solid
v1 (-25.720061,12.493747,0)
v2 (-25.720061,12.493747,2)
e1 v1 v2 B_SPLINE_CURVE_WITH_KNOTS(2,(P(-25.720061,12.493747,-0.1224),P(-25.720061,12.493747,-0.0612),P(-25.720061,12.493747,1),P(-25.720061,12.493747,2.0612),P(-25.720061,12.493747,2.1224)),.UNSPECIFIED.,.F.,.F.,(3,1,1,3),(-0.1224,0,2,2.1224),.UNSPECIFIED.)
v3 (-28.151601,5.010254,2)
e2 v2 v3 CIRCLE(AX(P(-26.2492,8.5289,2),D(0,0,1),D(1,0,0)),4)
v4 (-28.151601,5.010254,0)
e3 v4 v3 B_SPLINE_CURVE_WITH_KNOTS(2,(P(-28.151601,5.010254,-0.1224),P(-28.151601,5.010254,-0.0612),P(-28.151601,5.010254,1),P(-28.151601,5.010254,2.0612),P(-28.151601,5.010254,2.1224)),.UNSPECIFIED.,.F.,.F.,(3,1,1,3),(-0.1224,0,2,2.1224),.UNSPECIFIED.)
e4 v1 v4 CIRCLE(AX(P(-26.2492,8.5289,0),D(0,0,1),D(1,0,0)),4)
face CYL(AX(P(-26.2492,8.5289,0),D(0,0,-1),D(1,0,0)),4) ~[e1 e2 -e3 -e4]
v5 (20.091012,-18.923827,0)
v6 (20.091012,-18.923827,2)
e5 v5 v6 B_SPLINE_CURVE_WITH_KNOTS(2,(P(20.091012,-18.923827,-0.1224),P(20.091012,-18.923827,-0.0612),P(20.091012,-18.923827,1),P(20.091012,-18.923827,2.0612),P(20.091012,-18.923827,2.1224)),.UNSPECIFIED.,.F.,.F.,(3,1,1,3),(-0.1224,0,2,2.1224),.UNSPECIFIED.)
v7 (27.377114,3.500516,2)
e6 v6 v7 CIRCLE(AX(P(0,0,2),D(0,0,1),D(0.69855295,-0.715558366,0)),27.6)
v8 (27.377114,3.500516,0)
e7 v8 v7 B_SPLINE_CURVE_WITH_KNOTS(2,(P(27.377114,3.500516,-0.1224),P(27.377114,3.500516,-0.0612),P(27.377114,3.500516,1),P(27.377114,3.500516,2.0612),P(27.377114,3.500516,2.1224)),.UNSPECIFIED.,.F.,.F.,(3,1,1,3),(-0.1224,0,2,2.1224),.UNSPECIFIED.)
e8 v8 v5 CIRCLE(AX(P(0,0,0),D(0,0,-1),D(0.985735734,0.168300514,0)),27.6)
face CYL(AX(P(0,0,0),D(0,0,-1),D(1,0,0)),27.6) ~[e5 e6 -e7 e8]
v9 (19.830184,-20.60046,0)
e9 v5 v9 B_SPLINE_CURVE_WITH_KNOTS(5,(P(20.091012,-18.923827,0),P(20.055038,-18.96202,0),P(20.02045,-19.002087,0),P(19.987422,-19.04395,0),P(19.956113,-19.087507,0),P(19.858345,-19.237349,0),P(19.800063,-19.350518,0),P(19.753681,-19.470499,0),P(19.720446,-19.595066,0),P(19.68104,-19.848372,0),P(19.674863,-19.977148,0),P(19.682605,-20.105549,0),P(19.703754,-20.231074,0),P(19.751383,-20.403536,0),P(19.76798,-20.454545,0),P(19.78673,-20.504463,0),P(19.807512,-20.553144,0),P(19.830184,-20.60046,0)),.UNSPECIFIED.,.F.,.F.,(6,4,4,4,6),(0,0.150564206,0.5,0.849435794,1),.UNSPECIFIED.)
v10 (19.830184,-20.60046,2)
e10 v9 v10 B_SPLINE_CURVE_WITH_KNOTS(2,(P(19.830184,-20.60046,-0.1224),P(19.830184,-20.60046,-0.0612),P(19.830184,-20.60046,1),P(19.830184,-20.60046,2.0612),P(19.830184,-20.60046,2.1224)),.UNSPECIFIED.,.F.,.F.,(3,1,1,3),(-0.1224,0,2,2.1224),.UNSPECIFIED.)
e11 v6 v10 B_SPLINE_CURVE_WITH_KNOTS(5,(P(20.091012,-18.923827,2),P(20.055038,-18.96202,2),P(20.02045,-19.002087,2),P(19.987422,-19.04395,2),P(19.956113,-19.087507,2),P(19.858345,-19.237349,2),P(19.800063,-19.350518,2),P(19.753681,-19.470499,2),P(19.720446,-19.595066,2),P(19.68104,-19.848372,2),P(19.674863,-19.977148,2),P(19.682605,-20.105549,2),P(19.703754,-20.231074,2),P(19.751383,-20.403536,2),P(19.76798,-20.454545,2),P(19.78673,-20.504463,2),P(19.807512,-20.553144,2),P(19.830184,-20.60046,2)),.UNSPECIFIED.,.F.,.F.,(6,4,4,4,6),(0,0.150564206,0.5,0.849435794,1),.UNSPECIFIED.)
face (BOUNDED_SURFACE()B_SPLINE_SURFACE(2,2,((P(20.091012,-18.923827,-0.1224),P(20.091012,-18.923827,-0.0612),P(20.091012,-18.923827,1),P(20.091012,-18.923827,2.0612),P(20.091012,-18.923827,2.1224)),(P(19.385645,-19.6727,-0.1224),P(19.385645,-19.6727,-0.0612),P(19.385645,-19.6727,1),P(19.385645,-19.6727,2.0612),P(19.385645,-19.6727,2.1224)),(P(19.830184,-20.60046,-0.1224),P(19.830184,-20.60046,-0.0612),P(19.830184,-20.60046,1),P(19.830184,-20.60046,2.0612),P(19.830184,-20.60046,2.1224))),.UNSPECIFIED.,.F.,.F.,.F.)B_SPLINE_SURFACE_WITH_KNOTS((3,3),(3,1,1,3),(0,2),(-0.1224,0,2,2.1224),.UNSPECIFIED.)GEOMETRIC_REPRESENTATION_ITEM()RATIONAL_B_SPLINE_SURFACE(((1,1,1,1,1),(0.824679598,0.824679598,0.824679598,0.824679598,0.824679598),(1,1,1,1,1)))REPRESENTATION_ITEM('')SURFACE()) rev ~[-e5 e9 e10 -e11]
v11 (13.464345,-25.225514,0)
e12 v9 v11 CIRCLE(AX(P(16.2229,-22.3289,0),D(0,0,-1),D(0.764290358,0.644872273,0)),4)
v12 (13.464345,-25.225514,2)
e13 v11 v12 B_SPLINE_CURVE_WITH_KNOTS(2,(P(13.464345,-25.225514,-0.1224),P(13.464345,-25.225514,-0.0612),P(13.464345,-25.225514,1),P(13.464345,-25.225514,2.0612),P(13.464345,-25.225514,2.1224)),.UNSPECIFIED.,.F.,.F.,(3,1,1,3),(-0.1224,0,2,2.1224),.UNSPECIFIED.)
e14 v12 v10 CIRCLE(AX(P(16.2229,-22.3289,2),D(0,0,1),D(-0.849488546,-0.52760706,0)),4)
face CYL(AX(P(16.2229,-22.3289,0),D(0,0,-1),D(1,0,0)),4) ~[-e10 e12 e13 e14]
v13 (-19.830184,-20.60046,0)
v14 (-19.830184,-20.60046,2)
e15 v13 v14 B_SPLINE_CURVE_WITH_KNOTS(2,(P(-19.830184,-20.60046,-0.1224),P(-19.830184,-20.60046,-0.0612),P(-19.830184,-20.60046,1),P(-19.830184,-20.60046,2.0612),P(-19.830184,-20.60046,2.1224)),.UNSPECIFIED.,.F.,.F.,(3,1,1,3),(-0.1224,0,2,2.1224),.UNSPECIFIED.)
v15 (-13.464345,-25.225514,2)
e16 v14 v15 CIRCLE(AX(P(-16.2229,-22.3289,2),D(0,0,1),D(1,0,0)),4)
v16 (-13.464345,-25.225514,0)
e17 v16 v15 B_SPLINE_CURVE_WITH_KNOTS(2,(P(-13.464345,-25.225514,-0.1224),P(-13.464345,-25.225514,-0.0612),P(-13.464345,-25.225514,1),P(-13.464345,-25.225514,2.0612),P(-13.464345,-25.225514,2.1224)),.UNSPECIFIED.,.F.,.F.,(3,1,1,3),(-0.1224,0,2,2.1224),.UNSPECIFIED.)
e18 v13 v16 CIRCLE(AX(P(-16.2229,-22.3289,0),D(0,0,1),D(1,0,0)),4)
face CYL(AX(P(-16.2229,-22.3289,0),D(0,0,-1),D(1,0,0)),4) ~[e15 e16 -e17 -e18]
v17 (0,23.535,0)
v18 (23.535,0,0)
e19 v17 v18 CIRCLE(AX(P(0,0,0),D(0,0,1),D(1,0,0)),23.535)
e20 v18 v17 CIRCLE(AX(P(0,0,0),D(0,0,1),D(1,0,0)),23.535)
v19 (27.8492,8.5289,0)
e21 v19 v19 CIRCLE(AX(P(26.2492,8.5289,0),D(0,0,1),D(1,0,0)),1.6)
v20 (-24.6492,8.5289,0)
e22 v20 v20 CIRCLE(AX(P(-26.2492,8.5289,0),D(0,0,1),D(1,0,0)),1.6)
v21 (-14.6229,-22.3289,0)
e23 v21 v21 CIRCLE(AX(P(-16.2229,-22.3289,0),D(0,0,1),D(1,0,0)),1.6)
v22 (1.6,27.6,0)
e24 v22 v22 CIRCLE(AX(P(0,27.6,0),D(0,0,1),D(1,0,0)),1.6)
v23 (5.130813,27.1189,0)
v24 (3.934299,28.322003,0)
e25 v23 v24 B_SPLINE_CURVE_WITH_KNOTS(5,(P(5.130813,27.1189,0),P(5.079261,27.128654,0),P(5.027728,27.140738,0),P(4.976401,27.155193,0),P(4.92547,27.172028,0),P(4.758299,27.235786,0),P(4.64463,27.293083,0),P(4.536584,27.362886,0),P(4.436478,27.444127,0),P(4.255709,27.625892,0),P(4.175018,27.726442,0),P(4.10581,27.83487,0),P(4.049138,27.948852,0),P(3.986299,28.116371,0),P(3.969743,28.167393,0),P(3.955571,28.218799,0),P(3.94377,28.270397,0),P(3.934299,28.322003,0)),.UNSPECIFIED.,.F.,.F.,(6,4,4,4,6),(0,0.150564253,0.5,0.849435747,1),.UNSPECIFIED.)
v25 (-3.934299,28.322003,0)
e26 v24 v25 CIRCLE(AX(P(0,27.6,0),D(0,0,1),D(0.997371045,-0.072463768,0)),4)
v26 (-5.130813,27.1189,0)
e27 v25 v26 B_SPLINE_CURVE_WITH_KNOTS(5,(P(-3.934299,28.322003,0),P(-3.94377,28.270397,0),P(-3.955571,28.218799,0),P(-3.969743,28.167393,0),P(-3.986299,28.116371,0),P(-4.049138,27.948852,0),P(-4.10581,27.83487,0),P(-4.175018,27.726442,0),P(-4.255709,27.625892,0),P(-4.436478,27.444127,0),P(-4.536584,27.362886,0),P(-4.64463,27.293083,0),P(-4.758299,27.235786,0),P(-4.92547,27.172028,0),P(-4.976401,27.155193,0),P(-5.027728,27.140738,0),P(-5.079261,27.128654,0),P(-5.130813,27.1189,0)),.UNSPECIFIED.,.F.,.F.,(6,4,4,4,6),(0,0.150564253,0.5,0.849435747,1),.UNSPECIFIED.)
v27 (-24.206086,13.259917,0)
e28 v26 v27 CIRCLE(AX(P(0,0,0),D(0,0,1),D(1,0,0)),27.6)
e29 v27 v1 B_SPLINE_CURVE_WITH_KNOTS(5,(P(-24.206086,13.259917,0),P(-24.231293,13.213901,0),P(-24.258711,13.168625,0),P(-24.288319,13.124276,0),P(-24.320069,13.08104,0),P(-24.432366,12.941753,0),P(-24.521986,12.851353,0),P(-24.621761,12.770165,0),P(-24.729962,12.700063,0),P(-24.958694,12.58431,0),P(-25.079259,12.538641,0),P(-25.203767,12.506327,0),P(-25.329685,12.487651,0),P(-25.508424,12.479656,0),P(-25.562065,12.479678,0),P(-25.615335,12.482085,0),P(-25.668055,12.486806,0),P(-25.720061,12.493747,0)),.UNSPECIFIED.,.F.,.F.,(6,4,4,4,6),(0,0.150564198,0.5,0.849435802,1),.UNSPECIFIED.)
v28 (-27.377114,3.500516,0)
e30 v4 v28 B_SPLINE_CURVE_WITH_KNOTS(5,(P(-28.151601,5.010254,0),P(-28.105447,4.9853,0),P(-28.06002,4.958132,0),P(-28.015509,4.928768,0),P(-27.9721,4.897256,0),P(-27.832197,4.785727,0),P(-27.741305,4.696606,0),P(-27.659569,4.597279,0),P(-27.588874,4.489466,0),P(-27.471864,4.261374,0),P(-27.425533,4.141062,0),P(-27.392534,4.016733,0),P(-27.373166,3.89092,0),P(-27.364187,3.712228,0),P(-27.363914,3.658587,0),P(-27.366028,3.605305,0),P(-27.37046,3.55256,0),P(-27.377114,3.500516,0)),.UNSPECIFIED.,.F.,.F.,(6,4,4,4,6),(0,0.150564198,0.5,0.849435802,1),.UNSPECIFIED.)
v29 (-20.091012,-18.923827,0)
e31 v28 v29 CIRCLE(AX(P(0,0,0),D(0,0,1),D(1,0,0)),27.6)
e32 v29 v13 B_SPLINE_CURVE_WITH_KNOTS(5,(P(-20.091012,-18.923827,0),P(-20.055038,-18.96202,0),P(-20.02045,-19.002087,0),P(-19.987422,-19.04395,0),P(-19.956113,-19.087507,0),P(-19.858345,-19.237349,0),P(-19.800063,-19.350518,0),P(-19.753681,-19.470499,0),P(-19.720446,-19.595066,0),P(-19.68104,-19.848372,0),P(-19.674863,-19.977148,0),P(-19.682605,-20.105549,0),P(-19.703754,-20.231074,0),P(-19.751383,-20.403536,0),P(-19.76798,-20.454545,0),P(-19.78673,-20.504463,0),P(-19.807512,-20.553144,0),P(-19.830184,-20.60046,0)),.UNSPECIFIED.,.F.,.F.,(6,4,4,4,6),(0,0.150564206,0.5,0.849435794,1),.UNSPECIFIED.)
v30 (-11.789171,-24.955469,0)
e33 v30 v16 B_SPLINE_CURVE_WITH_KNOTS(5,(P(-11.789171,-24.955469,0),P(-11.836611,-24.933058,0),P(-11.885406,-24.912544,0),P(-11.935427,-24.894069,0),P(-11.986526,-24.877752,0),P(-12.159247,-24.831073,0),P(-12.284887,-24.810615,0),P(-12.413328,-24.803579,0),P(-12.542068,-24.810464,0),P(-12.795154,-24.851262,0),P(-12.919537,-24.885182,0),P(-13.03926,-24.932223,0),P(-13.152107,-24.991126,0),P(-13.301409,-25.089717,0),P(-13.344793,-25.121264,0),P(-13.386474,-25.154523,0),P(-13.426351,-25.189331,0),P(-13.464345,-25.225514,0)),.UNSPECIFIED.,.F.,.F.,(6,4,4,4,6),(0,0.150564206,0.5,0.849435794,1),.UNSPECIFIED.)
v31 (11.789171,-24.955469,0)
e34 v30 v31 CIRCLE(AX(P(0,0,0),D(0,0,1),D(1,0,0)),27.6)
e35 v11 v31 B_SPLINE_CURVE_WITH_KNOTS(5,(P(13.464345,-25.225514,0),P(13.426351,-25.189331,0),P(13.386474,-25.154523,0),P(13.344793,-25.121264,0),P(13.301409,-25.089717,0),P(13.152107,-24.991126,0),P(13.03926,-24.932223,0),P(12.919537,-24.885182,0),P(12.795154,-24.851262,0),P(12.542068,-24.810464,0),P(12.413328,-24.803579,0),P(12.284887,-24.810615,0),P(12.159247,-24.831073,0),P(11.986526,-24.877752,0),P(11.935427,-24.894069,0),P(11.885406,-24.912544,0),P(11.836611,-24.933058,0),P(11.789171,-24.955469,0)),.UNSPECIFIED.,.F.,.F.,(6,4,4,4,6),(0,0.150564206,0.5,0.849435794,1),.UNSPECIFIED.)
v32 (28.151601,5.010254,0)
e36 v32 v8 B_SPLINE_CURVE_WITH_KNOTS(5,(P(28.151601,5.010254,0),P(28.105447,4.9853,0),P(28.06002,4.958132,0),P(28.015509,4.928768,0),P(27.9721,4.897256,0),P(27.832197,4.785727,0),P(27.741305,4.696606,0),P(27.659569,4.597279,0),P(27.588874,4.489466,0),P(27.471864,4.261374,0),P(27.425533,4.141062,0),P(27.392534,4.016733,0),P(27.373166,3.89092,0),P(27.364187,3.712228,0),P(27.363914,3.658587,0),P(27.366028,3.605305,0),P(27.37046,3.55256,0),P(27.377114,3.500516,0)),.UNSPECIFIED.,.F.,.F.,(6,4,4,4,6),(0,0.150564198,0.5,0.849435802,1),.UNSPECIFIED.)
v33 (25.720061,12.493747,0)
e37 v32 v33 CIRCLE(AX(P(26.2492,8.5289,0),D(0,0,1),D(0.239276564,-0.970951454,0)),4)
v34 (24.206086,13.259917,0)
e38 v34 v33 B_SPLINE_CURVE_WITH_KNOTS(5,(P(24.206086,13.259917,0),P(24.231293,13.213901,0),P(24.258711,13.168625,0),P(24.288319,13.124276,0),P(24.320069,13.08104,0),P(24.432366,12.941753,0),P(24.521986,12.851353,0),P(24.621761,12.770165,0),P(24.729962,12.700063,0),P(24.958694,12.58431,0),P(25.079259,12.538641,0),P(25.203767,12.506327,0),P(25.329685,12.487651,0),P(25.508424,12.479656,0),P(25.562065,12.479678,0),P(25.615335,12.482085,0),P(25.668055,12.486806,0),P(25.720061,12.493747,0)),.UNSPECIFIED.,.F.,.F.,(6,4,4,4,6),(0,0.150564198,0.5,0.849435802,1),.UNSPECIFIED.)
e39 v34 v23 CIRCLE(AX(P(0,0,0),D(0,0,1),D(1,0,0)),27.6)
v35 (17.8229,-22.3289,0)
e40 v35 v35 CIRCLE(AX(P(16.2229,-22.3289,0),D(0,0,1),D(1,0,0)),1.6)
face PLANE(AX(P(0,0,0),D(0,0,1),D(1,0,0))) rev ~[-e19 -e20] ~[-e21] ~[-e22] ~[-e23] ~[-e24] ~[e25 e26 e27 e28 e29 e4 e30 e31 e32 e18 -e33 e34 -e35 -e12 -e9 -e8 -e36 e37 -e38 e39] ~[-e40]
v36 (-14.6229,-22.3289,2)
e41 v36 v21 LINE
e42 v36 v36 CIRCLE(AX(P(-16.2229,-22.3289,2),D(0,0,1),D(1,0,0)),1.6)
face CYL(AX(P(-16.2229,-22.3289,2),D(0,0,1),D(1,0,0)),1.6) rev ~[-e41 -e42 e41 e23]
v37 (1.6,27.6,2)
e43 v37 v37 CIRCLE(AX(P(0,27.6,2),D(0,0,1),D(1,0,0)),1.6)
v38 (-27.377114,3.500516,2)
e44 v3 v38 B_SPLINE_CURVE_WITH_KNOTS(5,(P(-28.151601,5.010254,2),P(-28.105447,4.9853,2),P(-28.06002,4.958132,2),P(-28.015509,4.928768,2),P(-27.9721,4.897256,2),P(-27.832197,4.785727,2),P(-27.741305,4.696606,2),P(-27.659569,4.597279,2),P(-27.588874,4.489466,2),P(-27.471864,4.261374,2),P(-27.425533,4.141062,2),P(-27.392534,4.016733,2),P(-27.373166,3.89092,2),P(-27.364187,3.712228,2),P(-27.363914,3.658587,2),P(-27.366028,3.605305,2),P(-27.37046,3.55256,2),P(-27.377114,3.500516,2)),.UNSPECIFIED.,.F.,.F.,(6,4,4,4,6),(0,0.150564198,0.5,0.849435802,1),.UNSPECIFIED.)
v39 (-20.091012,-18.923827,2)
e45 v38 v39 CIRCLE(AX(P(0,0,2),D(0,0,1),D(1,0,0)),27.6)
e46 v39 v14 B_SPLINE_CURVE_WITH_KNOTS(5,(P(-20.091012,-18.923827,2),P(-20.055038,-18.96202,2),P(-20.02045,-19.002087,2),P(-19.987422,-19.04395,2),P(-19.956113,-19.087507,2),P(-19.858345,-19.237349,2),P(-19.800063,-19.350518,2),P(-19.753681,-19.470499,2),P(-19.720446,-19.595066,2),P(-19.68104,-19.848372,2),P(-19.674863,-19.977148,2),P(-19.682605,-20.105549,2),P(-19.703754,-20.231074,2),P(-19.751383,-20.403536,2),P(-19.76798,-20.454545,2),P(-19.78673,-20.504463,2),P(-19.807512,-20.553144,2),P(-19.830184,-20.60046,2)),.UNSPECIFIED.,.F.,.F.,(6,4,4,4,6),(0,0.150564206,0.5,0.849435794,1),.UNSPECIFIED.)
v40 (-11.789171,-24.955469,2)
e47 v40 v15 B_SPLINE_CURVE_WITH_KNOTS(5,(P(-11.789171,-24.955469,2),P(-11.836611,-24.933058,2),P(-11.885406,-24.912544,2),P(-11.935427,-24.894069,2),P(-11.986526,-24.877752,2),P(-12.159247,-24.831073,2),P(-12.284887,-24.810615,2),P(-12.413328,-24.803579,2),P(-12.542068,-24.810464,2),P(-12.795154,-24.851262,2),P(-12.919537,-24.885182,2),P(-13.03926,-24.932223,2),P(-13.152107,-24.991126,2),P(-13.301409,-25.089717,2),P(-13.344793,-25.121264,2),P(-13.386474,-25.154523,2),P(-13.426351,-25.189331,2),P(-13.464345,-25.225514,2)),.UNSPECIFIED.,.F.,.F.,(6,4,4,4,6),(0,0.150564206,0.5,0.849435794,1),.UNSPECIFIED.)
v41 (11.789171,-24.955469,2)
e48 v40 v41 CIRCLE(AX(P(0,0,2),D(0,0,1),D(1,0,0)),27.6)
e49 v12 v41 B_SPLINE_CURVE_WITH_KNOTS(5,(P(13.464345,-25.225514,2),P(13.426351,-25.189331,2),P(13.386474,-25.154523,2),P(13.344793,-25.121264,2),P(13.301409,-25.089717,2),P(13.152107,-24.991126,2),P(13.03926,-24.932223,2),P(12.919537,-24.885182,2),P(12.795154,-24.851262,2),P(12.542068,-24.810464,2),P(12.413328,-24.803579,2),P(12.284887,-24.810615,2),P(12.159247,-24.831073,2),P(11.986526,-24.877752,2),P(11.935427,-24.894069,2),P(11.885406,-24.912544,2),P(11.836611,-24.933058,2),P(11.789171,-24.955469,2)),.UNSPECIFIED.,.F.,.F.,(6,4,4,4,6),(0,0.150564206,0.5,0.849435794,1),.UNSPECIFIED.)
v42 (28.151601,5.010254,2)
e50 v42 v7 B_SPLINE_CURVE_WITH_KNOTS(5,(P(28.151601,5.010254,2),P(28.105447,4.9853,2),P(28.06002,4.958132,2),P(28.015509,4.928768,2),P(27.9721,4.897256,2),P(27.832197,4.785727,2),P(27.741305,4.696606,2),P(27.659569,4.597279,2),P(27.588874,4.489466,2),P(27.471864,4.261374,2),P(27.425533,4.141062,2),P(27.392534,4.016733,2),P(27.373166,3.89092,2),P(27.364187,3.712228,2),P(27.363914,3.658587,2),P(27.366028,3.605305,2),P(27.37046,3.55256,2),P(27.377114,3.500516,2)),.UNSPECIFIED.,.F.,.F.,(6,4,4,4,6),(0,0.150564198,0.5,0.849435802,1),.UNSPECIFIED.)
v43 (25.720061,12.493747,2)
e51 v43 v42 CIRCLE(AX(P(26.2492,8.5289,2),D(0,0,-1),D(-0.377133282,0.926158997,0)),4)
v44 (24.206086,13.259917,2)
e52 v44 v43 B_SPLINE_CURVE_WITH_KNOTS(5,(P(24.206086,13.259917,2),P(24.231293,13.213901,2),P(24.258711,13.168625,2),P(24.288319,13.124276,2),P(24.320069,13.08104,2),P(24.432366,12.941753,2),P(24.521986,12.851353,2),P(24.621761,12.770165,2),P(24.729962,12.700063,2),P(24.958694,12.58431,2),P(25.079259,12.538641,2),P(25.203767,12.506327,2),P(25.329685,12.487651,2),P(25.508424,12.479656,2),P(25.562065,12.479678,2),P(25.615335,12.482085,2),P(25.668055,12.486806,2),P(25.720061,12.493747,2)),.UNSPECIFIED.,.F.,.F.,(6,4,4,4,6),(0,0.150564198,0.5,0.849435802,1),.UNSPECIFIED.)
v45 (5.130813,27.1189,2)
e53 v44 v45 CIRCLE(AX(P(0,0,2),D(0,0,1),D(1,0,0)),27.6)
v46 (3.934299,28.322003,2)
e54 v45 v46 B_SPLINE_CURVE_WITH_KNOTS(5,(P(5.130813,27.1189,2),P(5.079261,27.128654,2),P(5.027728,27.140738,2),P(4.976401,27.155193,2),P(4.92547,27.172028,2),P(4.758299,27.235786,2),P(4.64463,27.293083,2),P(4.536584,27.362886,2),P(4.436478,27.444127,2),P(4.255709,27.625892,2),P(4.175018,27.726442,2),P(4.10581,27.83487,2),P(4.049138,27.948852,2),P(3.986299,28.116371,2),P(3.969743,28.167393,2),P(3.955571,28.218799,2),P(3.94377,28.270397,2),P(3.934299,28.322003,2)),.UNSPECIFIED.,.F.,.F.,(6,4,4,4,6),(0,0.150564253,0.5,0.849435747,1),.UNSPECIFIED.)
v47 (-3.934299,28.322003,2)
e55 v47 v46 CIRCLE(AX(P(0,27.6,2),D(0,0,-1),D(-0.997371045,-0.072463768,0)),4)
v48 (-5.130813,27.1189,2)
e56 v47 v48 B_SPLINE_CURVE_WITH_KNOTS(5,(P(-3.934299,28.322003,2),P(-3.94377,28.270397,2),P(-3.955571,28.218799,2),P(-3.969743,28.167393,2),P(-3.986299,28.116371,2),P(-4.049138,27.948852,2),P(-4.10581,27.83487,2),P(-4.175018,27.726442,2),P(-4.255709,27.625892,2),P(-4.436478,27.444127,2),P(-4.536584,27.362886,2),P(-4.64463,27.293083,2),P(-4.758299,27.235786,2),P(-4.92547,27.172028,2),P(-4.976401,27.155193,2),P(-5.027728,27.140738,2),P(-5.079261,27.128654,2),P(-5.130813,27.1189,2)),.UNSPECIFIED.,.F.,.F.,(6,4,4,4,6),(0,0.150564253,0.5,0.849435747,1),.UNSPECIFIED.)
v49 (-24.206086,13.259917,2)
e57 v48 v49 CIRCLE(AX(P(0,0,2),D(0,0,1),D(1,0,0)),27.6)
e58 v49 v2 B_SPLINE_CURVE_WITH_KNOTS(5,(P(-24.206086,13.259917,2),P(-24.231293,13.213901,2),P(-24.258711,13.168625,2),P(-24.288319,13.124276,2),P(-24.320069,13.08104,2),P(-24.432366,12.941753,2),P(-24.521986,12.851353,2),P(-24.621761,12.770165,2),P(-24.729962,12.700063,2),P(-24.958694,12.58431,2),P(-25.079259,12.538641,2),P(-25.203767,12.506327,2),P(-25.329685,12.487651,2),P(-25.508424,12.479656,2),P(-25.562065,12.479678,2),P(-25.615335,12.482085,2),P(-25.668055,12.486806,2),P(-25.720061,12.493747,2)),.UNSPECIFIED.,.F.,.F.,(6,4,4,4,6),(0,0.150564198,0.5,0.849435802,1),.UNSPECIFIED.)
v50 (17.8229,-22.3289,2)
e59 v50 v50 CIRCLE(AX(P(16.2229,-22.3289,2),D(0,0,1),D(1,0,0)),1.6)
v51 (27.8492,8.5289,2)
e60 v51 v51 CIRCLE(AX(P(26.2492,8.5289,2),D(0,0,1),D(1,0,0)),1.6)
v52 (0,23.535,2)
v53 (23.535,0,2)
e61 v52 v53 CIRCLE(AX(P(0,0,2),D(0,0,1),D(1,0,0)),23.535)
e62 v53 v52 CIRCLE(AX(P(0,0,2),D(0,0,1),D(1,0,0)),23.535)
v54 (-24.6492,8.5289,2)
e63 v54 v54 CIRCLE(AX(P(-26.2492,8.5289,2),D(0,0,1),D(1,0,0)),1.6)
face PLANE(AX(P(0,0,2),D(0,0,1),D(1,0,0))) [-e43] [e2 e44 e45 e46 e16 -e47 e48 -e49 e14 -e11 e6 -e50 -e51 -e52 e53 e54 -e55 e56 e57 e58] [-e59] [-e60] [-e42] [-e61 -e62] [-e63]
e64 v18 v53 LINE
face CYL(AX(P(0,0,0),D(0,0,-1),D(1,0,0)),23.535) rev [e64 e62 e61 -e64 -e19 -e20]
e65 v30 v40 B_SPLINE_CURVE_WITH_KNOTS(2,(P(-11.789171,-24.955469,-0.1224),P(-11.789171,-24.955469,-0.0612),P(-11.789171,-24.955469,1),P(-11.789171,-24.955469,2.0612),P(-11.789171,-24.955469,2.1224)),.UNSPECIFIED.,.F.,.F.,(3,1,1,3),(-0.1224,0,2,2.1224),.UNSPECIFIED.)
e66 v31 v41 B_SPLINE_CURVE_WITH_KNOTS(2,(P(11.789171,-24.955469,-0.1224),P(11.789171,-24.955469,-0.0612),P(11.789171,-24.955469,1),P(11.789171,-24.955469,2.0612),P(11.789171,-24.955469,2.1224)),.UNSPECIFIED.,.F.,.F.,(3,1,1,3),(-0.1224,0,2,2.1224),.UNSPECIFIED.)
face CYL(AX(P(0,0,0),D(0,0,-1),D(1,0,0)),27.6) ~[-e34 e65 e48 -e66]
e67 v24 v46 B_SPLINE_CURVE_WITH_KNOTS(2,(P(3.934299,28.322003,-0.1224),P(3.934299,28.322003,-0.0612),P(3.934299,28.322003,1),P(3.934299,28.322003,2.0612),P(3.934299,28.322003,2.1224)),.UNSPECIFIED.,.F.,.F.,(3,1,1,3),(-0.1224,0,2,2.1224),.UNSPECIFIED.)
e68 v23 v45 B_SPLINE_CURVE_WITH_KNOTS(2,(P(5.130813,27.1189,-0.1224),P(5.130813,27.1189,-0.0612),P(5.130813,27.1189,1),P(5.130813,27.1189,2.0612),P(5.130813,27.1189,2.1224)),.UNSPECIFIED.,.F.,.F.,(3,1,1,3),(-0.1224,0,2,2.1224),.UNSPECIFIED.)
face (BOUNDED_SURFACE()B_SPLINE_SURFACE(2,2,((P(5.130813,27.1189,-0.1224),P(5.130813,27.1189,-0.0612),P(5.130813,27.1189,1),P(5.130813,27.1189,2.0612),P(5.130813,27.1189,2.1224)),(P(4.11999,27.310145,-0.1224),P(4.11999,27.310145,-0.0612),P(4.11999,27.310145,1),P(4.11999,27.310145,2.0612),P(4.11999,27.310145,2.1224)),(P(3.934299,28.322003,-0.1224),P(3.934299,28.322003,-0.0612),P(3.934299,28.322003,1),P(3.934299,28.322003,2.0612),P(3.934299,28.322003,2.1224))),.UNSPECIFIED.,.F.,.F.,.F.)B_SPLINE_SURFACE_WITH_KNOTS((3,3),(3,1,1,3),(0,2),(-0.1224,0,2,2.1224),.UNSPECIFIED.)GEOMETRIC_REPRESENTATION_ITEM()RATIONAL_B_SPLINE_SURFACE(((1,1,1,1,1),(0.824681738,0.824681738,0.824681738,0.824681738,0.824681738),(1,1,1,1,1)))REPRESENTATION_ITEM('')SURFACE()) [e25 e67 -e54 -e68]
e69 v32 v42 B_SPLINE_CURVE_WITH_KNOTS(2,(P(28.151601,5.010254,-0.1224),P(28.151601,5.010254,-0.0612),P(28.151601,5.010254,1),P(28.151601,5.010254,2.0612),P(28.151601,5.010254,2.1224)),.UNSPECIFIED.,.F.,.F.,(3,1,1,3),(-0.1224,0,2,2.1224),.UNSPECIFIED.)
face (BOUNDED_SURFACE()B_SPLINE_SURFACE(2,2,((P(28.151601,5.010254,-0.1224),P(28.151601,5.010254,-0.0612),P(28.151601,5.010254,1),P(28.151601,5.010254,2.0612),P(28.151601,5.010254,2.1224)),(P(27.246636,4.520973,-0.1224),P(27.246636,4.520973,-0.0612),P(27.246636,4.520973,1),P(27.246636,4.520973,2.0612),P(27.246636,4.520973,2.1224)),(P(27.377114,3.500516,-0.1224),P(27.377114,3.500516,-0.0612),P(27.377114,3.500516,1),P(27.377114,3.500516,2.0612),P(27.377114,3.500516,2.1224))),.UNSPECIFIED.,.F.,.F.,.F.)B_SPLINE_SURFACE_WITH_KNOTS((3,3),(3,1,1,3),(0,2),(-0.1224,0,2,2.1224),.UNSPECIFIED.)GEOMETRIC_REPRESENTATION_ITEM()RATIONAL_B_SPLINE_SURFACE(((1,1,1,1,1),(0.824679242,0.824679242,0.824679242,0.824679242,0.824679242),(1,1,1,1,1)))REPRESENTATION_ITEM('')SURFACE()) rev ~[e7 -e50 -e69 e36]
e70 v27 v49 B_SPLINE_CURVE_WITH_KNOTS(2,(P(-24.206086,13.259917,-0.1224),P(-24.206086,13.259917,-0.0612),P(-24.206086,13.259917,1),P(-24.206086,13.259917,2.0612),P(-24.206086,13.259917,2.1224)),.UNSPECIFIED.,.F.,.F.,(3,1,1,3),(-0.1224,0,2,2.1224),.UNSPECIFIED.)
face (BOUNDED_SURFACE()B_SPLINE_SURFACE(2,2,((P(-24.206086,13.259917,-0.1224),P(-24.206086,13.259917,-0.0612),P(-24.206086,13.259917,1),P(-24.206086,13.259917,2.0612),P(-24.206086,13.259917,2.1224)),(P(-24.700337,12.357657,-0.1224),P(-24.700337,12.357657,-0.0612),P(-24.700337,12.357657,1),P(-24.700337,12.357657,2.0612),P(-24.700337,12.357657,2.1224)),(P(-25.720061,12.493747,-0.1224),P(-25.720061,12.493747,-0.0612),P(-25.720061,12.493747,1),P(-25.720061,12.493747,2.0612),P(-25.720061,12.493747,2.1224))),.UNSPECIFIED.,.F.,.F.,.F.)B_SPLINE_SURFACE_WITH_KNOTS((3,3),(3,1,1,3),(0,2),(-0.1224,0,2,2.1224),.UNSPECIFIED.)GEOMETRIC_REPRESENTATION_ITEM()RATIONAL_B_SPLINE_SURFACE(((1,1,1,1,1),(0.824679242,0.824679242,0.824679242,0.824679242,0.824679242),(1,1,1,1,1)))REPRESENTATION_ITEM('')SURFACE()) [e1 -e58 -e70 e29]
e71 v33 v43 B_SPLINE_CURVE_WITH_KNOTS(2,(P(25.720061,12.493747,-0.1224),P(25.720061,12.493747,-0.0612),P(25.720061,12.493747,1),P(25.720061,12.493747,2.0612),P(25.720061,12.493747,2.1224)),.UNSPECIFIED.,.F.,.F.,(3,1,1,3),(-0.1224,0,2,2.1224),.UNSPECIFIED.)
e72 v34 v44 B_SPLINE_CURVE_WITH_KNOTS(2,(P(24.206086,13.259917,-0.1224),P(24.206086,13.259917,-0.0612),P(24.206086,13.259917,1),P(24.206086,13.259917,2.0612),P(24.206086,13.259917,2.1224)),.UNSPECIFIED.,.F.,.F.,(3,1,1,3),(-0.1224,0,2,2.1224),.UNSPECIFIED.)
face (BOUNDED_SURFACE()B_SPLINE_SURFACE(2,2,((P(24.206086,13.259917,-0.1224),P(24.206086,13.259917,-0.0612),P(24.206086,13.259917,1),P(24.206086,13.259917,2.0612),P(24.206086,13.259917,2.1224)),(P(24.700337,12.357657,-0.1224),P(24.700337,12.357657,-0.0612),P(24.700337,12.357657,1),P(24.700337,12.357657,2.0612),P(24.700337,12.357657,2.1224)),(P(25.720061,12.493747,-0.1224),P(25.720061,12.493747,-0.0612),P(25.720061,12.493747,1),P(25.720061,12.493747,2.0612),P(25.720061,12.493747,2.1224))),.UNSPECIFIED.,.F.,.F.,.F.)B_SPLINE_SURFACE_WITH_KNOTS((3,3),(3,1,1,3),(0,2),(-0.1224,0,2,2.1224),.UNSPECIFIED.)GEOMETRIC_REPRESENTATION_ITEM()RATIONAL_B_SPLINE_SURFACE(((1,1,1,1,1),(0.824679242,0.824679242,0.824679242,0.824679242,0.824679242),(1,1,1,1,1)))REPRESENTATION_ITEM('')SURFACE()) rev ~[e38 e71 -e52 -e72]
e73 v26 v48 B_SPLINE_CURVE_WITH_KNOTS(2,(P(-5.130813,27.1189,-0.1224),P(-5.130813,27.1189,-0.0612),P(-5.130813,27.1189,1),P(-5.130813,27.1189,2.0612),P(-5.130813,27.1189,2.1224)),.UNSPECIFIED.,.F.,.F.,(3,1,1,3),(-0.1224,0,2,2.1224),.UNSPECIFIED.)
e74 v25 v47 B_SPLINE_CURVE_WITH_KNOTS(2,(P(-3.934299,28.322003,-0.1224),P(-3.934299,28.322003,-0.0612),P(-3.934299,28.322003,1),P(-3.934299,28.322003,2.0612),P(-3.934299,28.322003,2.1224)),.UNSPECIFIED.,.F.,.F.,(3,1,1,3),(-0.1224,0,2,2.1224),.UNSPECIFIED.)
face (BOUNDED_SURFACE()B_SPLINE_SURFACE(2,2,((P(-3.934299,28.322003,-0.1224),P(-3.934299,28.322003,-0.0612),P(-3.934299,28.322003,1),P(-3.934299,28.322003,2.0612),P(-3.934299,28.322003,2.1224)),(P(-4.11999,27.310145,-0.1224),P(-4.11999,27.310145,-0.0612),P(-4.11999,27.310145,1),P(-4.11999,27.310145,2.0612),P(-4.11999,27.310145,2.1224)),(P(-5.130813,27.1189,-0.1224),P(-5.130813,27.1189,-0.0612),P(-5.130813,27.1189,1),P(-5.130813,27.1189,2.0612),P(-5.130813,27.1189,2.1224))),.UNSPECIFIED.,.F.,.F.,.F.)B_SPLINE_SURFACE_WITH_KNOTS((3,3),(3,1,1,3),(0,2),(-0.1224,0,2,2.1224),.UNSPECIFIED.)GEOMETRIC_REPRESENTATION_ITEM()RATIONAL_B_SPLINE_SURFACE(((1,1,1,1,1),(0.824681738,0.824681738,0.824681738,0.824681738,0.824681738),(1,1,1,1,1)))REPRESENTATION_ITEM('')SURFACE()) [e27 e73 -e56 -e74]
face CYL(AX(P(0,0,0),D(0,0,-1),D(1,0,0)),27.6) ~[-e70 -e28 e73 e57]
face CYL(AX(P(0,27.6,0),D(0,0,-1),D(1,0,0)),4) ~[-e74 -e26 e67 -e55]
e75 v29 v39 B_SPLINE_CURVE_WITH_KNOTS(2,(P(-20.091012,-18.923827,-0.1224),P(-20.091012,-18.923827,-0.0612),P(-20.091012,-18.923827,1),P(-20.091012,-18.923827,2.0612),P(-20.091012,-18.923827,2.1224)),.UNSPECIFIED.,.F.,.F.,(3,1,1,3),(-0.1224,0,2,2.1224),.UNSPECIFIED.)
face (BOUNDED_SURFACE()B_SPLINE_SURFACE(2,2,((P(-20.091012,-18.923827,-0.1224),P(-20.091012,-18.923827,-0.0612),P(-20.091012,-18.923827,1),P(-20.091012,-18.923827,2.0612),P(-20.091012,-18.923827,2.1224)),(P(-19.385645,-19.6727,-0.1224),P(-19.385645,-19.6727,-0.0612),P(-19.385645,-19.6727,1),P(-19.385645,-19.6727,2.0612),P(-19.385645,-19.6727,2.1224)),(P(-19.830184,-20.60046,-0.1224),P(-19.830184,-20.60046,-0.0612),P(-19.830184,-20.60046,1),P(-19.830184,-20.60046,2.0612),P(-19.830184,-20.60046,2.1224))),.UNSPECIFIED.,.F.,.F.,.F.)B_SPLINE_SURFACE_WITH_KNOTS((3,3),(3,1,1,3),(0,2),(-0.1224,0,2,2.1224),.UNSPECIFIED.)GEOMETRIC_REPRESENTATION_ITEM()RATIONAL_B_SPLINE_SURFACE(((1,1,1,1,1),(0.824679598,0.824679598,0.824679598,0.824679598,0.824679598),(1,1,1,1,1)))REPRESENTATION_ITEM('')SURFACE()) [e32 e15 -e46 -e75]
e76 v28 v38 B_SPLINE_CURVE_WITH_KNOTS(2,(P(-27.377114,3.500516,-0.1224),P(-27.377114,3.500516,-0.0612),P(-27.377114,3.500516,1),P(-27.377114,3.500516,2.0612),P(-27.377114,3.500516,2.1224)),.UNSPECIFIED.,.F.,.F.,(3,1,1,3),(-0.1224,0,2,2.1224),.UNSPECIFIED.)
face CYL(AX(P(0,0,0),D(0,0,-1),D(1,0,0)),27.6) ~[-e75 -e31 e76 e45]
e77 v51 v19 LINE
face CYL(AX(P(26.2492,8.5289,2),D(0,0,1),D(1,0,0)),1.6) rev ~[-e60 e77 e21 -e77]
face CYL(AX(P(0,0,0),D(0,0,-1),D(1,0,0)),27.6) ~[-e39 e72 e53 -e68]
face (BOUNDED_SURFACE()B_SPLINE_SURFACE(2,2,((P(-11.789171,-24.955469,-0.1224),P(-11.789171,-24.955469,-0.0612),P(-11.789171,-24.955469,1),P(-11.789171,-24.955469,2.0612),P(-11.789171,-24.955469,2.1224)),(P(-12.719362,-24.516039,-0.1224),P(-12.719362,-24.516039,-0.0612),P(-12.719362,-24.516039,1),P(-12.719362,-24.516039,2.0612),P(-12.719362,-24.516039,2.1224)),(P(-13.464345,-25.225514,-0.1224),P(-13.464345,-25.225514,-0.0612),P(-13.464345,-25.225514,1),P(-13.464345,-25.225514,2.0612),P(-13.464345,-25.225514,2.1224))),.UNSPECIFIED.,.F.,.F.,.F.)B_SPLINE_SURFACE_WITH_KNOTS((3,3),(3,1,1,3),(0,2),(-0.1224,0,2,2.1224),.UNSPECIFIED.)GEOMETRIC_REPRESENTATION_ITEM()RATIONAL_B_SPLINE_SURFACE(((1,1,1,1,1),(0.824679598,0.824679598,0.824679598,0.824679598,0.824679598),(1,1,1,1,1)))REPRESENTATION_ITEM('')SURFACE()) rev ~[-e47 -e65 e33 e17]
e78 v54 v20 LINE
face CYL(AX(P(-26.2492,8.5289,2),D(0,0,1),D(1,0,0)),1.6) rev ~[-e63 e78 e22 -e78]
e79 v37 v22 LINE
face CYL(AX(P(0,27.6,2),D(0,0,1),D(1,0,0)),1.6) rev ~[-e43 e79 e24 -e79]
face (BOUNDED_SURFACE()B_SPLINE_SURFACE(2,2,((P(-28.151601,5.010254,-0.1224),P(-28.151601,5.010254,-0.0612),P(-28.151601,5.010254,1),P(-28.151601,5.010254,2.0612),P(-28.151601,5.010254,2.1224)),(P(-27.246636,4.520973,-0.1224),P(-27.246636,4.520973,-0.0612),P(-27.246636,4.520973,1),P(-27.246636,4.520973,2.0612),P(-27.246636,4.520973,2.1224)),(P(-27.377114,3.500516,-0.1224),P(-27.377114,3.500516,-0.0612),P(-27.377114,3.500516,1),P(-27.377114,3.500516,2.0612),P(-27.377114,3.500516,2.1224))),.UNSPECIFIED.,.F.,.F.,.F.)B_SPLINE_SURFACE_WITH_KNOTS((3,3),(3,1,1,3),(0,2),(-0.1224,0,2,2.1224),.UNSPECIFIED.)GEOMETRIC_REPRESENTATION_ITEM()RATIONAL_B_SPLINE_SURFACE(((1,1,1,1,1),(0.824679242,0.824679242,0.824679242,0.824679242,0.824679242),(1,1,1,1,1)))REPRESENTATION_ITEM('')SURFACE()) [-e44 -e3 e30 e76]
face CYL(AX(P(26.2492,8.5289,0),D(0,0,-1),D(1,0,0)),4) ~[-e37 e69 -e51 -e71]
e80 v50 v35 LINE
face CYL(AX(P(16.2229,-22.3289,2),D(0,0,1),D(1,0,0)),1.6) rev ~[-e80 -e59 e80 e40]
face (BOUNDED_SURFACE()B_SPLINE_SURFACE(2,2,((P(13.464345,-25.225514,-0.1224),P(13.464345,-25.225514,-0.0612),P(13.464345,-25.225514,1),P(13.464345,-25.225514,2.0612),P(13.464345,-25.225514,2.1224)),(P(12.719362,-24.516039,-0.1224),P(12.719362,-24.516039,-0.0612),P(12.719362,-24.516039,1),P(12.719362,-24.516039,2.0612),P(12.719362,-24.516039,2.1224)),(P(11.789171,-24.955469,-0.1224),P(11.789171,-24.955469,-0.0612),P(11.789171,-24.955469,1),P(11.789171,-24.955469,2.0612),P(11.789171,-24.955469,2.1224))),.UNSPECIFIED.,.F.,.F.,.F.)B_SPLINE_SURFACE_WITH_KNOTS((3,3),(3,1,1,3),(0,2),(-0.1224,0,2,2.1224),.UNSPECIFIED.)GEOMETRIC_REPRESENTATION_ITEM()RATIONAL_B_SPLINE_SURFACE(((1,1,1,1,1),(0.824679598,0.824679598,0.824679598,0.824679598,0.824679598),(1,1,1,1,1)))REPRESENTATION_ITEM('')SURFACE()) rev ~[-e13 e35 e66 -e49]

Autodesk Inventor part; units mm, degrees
ref_plane "YZ Plane" through (0, 0, 0) normal (1, 0, 0) x (0, 1, 0)
ref_plane "XZ Plane" through (0, 0, 0) normal (0, 1, 0) x (-1, 0, 0)
ref_plane "XY Plane" through (0, 0, 0) normal (0, 0, 1) x (1, 0, 0)
sketch "스케치1" plane through (0, 0, 0) normal (0, 0, 1) x (1, 0, 0)
  circle A0 centre (0, 0) radius 23.535
  circle A1 centre (0, 0) radius 27.6
  line L0 (0, 0) -> (0, 27.6)
  circle A2 centre (0, 27.6) radius 4
  circle A3 centre (-26.2492, 8.5289) radius 4
  circle A4 centre (-16.2229, -22.3289) radius 4
  circle A5 centre (16.2229, -22.3289) radius 4
  circle A6 centre (26.2492, 8.5289) radius 4
  dimension "d1" = 55.2
  dimension "d0" = 47.07
  dimension "d2" = 8
  dimension "d5" = 360
extrude "돌출1" add sketch "스케치1" along normal blind 2
sketch "스케치2" plane through (0, 0, 2) normal (0, 0, 1) x (1, 0, 0)
  circle A0 centre (0, 0) radius 23.535 projected
  arc A1 (24.7407, 12.2335) -> (3.9895, 27.3101) centre (0, 0) ccw projected
  arc A2 (3.9895, 27.3101) -> (-3.9895, 27.3101) centre (0, 27.6) ccw projected
  arc A3 (-3.9895, 27.3101) -> (-24.7407, 12.2335) centre (0, 0) ccw projected
  arc A4 (-24.7407, 12.2335) -> (-27.2063, 4.6451) centre (-26.2492, 8.5289) ccw projected
  arc A5 (-27.2063, 4.6451) -> (-19.2801, -19.7494) centre (0, 0) ccw projected
  arc A6 (-19.2801, -19.7494) -> (-12.8249, -24.4393) centre (-16.2229, -22.3289) ccw projected
  arc A7 (-12.8249, -24.4393) -> (12.8249, -24.4393) centre (0, 0) ccw projected
  arc A8 (12.8249, -24.4393) -> (19.2801, -19.7494) centre (16.2229, -22.3289) ccw projected
  arc A9 (19.2801, -19.7494) -> (27.2063, 4.6451) centre (0, 0) ccw projected
  arc A10 (27.2063, 4.6451) -> (24.7407, 12.2335) centre (26.2492, 8.5289) ccw projected
  circle A11 centre (-26.2492, 8.5289) radius 1.6
  circle A12 centre (-16.2229, -22.3289) radius 1.6
  circle A13 centre (16.2229, -22.3289) radius 1.6
  circle A14 centre (26.2492, 8.5289) radius 1.6
  circle A15 centre (0, 27.6) radius 1.6
  dimension "d9" = 3.2
  dimension "d10" = 3.2
  dimension "d11" = 3.2
  dimension "d12" = 3.2
  dimension "d13" = 3.2
extrude "돌출2" cut sketch "스케치2" against normal up to surface (2 mm away) contours A11 | A12 | A13 | A14 | A15
fillet "모깎기1" radius 1.5 10 edges at (-19.2801, -19.7494, 1) (-12.8249, -24.4393, 1) (19.2801, -19.7494, 1) (12.8249, -24.4393, 1) (24.7407, 12.2335, 1) (27.2063, 4.6451, 1) (3.9895, 27.3101, 1) (-3.9895, 27.3101, 1) (-24.7407, 12.2335, 1) (-27.2063, 4.6451, 1)
properties part number "조인트4베어링관절2" material "알루미늄 6061"
